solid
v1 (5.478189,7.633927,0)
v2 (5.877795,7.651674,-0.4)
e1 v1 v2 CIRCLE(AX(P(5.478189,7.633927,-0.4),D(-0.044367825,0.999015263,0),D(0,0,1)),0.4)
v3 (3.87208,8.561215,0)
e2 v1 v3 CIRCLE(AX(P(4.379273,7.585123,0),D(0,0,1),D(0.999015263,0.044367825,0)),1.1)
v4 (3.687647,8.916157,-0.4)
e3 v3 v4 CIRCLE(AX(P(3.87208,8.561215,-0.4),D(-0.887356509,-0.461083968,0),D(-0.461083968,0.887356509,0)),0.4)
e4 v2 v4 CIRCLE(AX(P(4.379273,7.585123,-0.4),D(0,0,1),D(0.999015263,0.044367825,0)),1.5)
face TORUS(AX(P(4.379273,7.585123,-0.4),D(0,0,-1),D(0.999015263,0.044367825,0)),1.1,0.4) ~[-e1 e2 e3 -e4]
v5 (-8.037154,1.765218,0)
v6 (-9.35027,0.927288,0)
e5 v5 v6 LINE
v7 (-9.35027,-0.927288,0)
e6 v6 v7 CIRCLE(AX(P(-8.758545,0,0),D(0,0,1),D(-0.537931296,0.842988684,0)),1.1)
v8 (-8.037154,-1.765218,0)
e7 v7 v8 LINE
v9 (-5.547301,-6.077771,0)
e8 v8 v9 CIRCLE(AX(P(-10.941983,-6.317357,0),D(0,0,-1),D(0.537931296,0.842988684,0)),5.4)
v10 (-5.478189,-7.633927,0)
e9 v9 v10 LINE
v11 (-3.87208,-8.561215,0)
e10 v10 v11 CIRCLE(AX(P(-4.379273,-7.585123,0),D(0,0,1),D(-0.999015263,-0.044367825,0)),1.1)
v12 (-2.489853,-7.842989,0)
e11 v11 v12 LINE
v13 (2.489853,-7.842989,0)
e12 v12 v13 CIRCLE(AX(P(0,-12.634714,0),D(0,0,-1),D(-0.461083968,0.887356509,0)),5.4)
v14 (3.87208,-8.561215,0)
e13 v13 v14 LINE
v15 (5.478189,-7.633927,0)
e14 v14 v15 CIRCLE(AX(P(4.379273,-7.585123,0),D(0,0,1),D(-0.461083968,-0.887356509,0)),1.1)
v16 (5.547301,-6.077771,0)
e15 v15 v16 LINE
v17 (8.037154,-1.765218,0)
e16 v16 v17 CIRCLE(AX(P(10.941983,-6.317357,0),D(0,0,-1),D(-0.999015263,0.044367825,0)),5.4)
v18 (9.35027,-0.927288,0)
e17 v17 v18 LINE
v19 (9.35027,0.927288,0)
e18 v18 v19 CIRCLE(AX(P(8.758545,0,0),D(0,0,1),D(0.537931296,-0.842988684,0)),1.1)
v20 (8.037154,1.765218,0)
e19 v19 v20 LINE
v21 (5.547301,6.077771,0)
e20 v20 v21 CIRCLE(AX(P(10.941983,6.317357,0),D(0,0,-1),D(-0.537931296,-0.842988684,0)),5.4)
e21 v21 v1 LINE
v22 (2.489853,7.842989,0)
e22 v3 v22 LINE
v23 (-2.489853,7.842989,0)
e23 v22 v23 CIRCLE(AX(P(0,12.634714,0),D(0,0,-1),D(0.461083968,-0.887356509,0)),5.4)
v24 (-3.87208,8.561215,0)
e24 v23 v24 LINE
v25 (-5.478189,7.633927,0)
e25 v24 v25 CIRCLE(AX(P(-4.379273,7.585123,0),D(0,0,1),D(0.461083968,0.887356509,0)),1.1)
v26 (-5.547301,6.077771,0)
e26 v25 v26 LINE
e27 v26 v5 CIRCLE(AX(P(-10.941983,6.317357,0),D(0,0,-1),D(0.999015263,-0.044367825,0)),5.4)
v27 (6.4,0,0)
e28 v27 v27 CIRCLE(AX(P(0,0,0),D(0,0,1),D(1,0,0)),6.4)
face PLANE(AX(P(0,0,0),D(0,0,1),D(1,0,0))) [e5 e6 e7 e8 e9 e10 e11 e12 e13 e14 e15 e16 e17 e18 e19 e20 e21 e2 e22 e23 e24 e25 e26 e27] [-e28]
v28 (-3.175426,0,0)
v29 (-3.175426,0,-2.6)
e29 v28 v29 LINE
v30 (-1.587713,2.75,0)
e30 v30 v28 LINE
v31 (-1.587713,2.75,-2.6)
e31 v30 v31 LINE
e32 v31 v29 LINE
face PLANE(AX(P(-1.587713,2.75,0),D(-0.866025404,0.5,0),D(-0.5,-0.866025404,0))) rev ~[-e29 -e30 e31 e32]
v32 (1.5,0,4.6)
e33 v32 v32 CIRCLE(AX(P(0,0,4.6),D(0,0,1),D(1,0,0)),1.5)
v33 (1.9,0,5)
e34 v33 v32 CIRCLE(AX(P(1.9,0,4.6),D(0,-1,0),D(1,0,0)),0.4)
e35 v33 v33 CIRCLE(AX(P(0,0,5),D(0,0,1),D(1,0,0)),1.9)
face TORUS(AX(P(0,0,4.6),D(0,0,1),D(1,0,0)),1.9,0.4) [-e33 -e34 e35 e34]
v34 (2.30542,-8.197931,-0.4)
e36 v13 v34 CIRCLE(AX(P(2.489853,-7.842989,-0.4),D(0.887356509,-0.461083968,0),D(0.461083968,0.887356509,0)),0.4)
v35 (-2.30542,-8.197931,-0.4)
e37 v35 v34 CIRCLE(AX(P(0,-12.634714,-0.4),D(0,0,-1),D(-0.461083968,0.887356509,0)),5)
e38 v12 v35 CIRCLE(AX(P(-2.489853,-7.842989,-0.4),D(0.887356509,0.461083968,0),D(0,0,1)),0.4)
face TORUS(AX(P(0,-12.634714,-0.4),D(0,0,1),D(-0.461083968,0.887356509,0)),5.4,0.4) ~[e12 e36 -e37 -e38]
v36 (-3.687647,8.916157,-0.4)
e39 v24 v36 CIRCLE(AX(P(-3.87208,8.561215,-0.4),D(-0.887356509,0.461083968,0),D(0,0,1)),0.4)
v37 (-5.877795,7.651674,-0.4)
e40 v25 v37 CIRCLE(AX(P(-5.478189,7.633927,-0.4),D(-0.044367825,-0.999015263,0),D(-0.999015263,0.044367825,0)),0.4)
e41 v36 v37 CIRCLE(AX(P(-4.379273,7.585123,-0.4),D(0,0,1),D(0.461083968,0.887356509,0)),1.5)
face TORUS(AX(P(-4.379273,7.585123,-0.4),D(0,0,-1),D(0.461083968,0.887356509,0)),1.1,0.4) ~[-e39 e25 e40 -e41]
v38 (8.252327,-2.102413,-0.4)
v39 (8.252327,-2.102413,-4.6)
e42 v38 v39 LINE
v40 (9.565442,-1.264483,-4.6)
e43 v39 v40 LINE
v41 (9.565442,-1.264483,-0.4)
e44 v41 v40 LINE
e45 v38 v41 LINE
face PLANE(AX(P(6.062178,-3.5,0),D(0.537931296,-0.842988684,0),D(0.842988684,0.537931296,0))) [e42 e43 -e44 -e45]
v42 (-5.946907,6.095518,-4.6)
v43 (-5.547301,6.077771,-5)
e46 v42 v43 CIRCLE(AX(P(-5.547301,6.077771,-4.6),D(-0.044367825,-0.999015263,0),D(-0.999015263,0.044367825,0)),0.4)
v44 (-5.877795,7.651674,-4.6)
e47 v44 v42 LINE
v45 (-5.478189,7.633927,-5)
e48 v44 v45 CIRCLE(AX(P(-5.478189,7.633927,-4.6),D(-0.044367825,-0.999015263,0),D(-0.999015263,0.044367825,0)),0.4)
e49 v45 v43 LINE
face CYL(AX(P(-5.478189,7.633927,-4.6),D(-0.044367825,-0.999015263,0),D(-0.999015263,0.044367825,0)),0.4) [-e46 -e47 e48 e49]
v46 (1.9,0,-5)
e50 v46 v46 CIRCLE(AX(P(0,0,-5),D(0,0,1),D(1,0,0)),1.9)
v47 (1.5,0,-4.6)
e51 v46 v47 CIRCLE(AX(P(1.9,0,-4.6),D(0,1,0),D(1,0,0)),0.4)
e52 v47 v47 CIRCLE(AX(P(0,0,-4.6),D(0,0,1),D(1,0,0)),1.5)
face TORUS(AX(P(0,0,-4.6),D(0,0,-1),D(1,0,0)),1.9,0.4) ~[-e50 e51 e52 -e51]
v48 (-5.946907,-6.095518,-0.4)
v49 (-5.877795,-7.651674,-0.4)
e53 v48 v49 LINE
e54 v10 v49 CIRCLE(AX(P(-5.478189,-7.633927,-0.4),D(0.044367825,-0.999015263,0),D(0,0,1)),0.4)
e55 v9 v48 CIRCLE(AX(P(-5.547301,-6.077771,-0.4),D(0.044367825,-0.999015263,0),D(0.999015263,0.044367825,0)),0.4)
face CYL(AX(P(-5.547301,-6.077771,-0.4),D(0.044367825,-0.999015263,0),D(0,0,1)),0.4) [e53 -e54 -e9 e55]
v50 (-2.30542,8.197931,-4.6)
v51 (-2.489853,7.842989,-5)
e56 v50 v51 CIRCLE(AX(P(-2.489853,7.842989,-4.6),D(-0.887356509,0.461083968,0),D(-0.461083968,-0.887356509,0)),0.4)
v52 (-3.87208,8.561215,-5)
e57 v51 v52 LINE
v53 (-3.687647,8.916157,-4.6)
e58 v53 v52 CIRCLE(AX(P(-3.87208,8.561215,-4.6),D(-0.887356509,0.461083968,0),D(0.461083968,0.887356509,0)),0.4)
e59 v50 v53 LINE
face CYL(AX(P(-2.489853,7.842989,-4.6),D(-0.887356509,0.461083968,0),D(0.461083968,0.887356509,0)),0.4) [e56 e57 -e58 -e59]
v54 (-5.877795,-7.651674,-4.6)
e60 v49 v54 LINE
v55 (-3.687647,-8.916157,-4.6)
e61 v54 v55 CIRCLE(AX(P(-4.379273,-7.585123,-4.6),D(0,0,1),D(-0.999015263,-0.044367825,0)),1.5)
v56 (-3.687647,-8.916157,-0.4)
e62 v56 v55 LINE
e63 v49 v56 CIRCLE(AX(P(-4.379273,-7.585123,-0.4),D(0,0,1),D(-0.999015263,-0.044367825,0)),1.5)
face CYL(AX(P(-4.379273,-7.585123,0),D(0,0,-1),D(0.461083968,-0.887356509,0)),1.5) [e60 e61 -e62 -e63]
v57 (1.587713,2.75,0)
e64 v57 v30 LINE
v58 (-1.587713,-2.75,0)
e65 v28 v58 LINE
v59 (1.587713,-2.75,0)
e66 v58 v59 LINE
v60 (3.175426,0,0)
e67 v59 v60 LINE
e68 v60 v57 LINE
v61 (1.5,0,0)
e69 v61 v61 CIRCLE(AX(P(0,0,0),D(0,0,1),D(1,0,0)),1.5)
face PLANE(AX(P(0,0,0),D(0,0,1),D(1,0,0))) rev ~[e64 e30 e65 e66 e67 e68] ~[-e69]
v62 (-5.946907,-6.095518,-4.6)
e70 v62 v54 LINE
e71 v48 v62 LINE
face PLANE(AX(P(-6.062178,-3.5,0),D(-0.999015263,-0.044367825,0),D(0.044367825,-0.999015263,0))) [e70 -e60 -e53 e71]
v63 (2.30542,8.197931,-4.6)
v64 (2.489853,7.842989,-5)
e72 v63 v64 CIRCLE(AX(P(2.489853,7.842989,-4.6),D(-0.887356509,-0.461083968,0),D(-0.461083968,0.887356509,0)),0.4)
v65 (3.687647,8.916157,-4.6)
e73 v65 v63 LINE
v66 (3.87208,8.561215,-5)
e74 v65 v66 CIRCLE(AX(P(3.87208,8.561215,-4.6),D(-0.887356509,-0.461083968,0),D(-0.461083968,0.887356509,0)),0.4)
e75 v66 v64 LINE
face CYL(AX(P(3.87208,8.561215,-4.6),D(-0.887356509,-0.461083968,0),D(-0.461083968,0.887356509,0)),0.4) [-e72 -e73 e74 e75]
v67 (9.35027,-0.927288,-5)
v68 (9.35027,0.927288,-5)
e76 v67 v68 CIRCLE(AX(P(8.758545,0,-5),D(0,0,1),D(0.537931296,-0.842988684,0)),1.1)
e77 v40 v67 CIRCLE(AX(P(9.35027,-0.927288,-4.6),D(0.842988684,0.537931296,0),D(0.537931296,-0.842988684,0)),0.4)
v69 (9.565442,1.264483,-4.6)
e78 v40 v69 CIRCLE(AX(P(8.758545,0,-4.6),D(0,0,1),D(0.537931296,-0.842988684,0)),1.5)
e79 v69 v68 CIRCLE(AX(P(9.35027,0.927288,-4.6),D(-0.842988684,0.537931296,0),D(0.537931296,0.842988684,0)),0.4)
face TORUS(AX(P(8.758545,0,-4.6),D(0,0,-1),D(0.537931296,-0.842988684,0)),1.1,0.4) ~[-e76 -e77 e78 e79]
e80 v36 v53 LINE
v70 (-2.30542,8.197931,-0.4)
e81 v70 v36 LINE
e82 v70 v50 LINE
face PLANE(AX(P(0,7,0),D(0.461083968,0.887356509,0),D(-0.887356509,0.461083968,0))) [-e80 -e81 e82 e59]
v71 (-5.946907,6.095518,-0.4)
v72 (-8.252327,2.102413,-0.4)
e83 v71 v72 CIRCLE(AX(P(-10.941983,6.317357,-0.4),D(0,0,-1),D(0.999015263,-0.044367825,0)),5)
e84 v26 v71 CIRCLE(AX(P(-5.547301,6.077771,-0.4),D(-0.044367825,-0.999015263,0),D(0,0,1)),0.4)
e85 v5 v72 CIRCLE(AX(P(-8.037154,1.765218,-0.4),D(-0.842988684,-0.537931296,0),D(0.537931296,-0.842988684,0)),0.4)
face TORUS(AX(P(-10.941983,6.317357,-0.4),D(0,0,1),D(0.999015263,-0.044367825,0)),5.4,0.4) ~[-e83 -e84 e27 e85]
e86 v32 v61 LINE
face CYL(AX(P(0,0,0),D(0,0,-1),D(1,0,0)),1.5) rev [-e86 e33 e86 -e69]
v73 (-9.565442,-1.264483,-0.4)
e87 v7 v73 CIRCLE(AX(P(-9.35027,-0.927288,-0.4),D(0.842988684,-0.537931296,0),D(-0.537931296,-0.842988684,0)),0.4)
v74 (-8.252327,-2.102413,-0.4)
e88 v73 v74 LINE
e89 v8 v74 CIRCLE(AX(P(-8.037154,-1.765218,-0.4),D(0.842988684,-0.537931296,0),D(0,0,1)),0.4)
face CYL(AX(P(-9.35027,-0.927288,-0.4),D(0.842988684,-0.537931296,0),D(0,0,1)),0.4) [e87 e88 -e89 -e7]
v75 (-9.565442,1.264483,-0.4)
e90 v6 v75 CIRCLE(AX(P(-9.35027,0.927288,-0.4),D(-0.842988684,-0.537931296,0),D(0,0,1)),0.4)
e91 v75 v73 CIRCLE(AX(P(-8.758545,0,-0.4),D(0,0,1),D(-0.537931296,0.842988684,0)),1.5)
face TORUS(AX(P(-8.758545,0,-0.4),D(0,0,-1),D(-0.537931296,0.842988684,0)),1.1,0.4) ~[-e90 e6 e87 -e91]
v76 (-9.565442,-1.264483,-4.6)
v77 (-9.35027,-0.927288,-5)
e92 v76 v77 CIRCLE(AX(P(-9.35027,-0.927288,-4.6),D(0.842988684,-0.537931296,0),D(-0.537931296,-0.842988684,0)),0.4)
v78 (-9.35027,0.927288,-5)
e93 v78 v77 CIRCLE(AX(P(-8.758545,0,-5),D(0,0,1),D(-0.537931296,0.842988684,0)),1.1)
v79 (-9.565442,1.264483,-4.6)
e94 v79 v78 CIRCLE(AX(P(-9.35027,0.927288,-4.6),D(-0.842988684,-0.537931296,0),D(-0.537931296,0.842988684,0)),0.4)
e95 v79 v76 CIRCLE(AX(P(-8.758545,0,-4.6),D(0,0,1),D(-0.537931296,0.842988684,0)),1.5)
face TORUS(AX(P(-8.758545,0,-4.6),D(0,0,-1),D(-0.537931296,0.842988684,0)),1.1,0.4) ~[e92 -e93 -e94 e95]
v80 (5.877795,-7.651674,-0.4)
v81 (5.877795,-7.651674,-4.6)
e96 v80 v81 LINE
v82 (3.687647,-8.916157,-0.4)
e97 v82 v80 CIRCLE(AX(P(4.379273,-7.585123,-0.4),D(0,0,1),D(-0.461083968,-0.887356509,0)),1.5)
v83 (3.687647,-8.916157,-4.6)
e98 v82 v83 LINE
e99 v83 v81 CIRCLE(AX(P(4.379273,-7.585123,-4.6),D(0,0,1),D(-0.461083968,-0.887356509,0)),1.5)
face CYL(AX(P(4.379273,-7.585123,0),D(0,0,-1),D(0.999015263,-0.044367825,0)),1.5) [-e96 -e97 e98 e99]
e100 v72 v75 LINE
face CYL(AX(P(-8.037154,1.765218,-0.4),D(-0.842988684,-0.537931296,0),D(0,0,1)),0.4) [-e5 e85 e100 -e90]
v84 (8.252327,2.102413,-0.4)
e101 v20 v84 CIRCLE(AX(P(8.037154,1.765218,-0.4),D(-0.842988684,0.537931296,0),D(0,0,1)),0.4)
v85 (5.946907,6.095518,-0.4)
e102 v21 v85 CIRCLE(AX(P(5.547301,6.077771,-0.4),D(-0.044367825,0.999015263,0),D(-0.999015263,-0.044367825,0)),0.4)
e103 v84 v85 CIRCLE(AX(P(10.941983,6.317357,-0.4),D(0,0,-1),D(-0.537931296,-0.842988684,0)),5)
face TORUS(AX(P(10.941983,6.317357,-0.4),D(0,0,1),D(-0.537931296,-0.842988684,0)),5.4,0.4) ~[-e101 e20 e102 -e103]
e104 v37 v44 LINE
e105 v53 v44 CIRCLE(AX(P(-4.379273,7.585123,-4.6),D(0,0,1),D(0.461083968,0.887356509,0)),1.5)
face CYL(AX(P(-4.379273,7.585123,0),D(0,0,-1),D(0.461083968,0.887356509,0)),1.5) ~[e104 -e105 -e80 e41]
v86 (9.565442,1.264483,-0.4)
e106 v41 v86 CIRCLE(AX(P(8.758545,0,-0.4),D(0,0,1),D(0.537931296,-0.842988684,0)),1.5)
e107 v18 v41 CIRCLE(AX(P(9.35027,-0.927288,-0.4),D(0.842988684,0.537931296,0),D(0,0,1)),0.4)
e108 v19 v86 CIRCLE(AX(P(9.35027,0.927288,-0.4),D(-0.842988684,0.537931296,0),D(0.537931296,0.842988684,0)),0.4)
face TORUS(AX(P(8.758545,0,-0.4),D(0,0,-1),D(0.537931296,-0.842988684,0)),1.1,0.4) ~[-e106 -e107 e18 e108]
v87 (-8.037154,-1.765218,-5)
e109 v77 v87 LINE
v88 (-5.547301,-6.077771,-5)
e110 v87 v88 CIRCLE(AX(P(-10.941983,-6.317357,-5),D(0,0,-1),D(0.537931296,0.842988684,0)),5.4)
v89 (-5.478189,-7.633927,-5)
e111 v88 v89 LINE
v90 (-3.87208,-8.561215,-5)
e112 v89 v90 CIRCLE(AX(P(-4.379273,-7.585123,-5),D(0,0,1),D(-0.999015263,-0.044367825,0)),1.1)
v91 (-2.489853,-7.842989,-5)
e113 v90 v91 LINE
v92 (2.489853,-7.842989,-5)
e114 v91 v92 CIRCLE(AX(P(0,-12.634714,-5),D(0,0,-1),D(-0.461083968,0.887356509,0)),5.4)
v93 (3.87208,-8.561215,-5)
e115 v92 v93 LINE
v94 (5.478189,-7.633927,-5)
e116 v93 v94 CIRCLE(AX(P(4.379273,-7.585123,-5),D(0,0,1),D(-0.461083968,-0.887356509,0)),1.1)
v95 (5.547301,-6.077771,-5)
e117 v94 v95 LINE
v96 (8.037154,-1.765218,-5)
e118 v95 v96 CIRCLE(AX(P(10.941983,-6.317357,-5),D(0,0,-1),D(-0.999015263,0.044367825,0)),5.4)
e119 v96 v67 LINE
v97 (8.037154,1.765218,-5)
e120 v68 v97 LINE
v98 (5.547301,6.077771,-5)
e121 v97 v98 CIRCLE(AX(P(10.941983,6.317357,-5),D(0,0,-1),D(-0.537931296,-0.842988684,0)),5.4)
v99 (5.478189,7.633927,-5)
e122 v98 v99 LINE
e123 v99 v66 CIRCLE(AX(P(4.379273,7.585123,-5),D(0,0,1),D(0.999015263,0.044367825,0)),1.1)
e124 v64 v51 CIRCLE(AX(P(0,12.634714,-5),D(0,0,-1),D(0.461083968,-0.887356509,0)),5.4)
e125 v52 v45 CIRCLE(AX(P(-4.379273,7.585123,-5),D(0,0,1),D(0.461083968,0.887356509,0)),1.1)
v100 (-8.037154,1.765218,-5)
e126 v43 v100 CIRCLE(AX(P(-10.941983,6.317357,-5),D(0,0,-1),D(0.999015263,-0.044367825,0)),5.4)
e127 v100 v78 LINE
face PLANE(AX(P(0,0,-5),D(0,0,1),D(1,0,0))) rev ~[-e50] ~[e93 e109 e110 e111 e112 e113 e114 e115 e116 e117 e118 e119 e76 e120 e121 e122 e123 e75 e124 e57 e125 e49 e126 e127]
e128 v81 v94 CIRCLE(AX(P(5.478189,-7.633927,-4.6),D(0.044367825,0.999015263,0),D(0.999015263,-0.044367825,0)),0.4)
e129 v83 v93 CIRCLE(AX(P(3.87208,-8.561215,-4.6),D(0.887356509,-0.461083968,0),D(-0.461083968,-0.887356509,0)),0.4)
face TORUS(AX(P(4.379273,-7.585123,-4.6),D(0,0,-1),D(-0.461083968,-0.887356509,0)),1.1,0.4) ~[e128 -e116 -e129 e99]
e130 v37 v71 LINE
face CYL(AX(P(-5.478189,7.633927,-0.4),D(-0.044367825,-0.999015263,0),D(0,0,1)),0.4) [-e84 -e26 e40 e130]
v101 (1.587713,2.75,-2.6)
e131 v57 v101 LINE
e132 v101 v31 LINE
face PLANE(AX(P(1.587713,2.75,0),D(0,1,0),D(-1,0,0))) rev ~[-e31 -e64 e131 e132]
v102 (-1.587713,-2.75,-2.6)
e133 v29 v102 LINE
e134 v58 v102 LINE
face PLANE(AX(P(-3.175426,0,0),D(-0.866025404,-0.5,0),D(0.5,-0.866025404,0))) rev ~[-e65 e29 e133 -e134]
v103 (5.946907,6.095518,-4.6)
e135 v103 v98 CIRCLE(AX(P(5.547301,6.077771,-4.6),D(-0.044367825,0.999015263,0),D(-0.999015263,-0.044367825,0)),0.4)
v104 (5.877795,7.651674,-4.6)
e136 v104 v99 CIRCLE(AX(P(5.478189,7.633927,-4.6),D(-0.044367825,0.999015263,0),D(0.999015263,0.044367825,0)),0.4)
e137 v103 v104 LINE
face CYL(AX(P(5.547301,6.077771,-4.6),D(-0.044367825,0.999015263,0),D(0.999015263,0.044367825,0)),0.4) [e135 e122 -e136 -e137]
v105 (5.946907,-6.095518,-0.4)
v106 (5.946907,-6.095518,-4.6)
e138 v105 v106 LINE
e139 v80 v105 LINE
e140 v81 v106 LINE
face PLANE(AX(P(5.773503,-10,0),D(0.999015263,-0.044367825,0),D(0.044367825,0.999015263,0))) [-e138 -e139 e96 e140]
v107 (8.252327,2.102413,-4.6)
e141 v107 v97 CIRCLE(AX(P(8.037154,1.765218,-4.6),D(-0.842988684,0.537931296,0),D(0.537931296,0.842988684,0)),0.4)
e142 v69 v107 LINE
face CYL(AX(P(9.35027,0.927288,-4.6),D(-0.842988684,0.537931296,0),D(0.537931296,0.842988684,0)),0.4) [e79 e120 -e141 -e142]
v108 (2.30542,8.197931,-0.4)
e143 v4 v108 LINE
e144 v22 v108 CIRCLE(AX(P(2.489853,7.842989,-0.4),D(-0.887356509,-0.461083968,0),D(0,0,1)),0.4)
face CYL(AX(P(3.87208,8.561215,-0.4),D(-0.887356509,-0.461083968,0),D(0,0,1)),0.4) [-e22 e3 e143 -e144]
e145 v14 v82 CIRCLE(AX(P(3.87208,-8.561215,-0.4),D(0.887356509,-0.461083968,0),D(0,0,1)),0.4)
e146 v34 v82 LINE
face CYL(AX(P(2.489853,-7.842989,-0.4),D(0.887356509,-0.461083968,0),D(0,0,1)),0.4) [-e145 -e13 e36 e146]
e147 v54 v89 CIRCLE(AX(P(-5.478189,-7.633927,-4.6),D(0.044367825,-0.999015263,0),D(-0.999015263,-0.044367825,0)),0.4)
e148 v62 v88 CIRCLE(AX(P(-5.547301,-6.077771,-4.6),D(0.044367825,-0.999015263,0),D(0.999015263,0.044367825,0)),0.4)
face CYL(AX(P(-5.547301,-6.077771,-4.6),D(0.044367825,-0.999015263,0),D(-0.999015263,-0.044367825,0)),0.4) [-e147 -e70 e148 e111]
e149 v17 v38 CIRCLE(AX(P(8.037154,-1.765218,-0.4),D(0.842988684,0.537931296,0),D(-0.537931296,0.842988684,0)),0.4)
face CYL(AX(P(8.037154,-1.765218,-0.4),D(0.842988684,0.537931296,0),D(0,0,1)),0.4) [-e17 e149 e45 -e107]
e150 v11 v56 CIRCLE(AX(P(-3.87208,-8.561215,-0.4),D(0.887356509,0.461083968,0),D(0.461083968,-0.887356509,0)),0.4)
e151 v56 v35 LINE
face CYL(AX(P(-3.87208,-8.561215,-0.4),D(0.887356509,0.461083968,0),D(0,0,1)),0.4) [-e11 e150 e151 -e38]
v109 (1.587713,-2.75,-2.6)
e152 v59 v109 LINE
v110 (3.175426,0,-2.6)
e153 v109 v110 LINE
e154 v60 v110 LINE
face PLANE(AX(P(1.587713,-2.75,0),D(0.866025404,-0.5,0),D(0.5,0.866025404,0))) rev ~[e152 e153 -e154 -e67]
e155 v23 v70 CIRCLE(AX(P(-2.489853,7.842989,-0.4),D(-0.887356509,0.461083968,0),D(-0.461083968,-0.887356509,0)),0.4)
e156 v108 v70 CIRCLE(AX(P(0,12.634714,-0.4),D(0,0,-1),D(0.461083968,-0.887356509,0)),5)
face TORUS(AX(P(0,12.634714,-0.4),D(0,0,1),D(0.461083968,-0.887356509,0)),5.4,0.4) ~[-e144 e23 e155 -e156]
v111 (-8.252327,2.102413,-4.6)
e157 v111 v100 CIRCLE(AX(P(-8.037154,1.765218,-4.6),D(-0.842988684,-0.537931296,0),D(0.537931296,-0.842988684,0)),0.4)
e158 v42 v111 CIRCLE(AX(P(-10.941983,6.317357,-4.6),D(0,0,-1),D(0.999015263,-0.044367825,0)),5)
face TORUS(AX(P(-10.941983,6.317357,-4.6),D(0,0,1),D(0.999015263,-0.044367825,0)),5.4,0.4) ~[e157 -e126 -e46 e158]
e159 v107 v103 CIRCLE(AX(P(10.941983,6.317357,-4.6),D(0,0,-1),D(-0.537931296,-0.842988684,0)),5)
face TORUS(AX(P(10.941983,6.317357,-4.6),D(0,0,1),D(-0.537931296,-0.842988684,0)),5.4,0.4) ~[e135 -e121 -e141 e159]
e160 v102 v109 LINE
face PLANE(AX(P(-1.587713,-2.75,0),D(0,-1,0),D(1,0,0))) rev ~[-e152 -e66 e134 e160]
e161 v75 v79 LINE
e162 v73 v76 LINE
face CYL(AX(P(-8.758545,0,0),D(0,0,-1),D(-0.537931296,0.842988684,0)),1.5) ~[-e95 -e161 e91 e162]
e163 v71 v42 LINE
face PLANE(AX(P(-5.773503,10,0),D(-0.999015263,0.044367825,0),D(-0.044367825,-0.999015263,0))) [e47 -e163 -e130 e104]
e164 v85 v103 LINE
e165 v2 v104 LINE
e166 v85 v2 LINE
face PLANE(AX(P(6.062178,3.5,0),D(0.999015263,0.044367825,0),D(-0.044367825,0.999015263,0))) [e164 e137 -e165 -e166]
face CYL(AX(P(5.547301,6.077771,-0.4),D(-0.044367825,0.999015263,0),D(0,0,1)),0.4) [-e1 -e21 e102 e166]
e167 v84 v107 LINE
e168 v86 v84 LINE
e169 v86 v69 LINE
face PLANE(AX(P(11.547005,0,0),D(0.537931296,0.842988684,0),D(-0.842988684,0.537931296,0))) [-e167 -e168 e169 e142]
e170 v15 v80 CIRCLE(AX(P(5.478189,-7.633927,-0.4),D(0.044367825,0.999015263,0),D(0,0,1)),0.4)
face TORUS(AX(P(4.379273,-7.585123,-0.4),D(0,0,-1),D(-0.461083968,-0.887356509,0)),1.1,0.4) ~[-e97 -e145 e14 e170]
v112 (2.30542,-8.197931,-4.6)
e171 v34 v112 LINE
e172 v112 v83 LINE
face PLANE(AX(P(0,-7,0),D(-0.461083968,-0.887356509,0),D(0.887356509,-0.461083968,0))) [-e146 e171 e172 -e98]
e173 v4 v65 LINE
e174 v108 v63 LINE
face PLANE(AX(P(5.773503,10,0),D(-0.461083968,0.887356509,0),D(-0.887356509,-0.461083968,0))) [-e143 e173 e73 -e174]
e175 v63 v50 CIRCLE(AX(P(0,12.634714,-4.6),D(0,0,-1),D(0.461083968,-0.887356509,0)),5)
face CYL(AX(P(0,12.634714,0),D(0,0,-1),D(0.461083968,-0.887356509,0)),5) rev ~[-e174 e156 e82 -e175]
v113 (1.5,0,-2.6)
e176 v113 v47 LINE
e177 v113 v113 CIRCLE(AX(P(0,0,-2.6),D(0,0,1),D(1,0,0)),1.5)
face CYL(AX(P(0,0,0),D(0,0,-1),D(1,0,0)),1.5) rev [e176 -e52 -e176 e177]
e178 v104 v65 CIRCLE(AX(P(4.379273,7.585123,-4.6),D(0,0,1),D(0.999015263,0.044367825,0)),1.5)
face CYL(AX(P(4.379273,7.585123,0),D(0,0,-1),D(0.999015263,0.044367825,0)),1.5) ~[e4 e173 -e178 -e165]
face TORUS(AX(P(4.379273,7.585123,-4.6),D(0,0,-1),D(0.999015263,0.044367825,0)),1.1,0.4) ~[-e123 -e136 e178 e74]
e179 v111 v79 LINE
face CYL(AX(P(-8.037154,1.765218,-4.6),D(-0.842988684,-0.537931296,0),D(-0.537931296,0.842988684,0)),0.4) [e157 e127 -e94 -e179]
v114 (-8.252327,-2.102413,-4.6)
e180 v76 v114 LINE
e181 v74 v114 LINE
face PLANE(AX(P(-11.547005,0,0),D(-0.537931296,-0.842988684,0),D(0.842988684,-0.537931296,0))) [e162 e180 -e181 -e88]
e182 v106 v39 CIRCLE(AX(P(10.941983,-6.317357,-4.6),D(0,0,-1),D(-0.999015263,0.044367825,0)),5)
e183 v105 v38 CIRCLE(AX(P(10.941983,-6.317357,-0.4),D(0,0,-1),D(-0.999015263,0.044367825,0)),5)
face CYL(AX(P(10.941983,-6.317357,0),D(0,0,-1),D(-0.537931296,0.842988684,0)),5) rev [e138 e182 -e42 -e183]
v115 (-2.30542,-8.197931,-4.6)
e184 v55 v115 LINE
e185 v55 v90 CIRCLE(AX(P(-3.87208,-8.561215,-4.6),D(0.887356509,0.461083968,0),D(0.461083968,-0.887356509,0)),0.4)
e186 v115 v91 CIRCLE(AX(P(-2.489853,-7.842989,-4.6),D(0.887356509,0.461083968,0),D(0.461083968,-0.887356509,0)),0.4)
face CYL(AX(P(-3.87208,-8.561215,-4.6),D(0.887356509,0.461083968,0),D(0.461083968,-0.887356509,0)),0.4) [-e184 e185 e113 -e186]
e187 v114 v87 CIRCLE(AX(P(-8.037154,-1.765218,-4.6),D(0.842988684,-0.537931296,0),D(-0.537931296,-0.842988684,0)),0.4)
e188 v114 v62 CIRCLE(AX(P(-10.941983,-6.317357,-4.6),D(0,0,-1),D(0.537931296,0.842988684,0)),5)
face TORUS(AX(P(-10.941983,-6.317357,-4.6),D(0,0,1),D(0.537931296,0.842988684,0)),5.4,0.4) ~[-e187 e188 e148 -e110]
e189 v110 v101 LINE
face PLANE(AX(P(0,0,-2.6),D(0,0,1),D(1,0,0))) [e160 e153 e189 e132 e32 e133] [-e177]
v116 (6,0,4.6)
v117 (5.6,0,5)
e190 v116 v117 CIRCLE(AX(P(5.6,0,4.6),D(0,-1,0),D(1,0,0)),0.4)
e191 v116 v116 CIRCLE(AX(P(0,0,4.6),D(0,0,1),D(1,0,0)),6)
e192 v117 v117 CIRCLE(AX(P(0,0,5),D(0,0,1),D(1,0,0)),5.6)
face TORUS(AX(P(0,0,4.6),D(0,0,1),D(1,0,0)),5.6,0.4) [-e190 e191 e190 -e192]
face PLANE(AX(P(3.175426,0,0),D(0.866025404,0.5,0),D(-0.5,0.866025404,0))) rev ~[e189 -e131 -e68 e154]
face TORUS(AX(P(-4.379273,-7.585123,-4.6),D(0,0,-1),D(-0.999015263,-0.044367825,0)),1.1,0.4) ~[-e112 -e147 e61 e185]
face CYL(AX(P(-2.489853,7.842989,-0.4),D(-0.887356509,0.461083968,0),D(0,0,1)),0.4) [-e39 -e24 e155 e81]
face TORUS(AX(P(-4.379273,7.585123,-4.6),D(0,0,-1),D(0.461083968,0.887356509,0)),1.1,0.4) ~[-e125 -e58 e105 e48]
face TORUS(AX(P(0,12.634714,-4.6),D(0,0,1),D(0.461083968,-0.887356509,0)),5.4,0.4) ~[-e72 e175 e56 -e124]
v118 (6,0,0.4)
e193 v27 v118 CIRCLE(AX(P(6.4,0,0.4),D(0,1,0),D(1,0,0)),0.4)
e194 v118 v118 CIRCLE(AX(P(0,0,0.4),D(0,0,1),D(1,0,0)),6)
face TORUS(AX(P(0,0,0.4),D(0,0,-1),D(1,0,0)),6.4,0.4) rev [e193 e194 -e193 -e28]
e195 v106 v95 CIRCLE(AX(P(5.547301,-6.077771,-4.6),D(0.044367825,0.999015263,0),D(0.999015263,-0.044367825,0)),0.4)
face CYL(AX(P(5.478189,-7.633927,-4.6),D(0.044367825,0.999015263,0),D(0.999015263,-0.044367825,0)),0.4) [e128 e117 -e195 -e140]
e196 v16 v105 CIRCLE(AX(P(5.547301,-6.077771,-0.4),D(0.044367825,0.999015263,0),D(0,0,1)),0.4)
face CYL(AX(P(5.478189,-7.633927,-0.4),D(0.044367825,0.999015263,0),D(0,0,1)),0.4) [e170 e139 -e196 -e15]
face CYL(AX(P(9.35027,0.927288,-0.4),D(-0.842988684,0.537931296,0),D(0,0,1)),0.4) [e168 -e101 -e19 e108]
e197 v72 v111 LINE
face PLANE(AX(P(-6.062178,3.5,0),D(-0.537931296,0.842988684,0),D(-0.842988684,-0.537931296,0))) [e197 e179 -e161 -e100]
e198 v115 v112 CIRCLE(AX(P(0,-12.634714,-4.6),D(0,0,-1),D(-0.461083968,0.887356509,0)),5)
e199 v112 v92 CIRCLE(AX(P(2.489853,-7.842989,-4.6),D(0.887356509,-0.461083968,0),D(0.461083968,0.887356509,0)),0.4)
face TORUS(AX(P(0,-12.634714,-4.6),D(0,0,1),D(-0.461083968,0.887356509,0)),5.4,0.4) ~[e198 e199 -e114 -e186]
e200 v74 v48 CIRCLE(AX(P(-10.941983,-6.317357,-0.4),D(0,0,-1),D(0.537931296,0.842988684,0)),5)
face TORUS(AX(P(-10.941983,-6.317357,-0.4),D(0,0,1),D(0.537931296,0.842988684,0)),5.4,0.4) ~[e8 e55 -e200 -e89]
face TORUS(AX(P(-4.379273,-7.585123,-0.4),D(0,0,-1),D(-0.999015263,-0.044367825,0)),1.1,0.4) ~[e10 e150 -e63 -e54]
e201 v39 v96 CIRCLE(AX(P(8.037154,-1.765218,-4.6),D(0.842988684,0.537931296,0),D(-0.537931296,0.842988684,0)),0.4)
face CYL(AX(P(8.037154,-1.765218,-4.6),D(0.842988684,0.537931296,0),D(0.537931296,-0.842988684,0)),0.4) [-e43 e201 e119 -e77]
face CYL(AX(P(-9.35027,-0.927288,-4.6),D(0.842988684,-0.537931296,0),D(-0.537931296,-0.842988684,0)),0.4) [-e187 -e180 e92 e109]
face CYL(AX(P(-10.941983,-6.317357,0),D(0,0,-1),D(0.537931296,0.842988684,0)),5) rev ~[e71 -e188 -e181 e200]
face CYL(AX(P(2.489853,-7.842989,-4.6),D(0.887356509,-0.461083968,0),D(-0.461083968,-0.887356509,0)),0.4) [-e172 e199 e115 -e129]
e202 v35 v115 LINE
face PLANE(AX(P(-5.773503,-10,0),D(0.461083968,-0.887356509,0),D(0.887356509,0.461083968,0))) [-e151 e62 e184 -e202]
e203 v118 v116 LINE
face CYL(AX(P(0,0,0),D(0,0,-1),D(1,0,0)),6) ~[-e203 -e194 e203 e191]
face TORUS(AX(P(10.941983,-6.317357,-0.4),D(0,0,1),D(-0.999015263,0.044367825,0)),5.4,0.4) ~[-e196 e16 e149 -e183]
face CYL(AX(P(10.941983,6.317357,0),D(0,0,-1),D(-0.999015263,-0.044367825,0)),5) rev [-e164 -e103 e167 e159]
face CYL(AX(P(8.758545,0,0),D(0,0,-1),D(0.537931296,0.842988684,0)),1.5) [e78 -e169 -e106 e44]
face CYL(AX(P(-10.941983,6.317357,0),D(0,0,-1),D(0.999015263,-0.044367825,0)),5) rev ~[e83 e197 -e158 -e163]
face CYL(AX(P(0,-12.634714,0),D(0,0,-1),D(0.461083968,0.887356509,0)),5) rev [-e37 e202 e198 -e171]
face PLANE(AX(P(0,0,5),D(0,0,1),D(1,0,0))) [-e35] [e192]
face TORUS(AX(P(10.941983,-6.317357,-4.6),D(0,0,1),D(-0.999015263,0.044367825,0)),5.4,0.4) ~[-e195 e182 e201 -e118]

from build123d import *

# Parameters (mm, degrees)
F0_R     = 6
F0_R_2   = 1.5
F1_DEPTH = 5
F2_DEPTH = 5
F3_DEPTH = 2.6
F4_R     = 1.5
F5_R     = 5
F6_R     = 0.4


with BuildPart() as f1:
    # F0 (on Top) → F1 (new body)
    with BuildSketch(Plane.XY):
        Polygon((6.0621778265, 3.5), (5.7735026919, 10), (0, 7), (-5.7735026919, 10), (-6.0621778265, 3.5), (-11.5470053838, 0), (-6.0621778265, -3.5), (-5.7735026919, -10), (0, -7), (5.7735026919, -10), (6.0621778265, -3.5), (11.5470053838, 0), align=None)
        Circle(F0_R, mode=Mode.SUBTRACT)
        Circle(F0_R)
        Polygon((-3.1754264805, 0), (-1.5877132403, 2.75), (1.5877132403, 2.75), (3.1754264805, 0), (1.5877132403, -2.75), (-1.5877132403, -2.75), align=None, mode=Mode.SUBTRACT)
        Polygon((1.5877132403, 2.75), (-1.5877132403, 2.75), (-3.1754264805, 0), (-1.5877132403, -2.75), (1.5877132403, -2.75), (3.1754264805, 0), align=None)
        Circle(F0_R_2, mode=Mode.SUBTRACT)
    extrude(amount=-F1_DEPTH)

    # F0 (on Top) → F2 (join)
    with BuildSketch(Plane.XY):
        Circle(F0_R)
        Polygon((-3.1754264805, 0), (-1.5877132403, 2.75), (1.5877132403, 2.75), (3.1754264805, 0), (1.5877132403, -2.75), (-1.5877132403, -2.75), align=None, mode=Mode.SUBTRACT)
        Polygon((1.5877132403, 2.75), (-1.5877132403, 2.75), (-3.1754264805, 0), (-1.5877132403, -2.75), (1.5877132403, -2.75), (3.1754264805, 0), align=None)
        Circle(F0_R_2, mode=Mode.SUBTRACT)
    extrude(amount=F2_DEPTH)

    # F0 (on Top) → F3 (cut)
    with BuildSketch(Plane.XY):
        Polygon((1.5877132403, 2.75), (-1.5877132403, 2.75), (-3.1754264805, 0), (-1.5877132403, -2.75), (1.5877132403, -2.75), (3.1754264805, 0), align=None)
        Circle(F0_R_2, mode=Mode.SUBTRACT)
    extrude(amount=-F3_DEPTH, mode=Mode.SUBTRACT)

    # F4
    f4_edges = [f1.edges().sort_by_distance(p)[0] for p in [
        (-11.547005, 0, -2.5),
        (-5.773503, -10, -2.5),
        (5.773503, -10, -2.5),
        (11.547005, 0, -2.5),
        (5.773503, 10, -2.5),
        (-5.773503, 10, -2.5),
    ]]
    fillet(f4_edges, radius=F4_R)

    # F5
    f5_edges = [f1.edges().sort_by_distance(p)[0] for p in [
        (6.062178, -3.5, -2.5),
        (6.062178, 3.5, -2.5),
        (0, 7, -2.5),
        (-6.062178, 3.5, -2.5),
        (-6.062178, -3.5, -2.5),
        (0, -7, -2.5),
    ]]
    fillet(f5_edges, radius=F5_R)

    # F6
    f6_edges = [f1.edges().sort_by_distance(p)[0] for p in [
        (5.912351, -6.873596, 0),
        (6.611856, -3.817357, 0),
        (5.129273, -8.884161, 0),
        (8.908884, -1.683448, 0),
        (2.996533, -8.557044, 0),
        (10.258545, 0, 0),
        (0, -7.634714, 0),
        (8.908884, 1.683448, 0),
        (-2.996533, -8.557044, 0),
        (6.611856, 3.817357, 0),
        (-5.129273, -8.884161, 0),
        (5.912351, 6.873596, 0),
        (-5.912351, -6.873596, 0),
        (5.129273, 8.884161, 0),
        (-6.611856, -3.817357, 0),
        (2.996533, 8.557044, 0),
        (-8.908884, -1.683448, 0),
        (0, 7.634714, 0),
        (-10.258545, 0, 0),
        (-2.996533, 8.557044, 0),
        (-8.908884, 1.683448, 0),
        (-5.129273, 8.884161, 0),
        (-6.611856, 3.817357, 0),
        (-5.912351, 6.873596, 0),
        (-6, 0, 0),
        (5.912351, -6.873596, -5),
        (6.611856, -3.817357, -5),
        (5.129273, -8.884161, -5),
        (8.908884, -1.683448, -5),
        (2.996533, -8.557044, -5),
        (10.258545, 0, -5),
        (0, -7.634714, -5),
        (8.908884, 1.683448, -5),
        (-2.996533, -8.557044, -5),
        (6.611856, 3.817357, -5),
        (-5.129273, -8.884161, -5),
        (5.912351, 6.873596, -5),
        (-5.912351, -6.873596, -5),
        (5.129273, 8.884161, -5),
        (-6.611856, -3.817357, -5),
        (2.996533, 8.557044, -5),
        (-8.908884, -1.683448, -5),
        (0, 7.634714, -5),
        (-10.258545, 0, -5),
        (-2.996533, 8.557044, -5),
        (-8.908884, 1.683448, -5),
        (-5.129273, 8.884161, -5),
        (-6.611856, 3.817357, -5),
        (-5.912351, 6.873596, -5),
        (-1.5, 0, -5),
        (-6, 0, 5),
        (-1.5, 0, 5),
    ]]
    fillet(f6_edges, radius=F6_R)


solid = f1.part
